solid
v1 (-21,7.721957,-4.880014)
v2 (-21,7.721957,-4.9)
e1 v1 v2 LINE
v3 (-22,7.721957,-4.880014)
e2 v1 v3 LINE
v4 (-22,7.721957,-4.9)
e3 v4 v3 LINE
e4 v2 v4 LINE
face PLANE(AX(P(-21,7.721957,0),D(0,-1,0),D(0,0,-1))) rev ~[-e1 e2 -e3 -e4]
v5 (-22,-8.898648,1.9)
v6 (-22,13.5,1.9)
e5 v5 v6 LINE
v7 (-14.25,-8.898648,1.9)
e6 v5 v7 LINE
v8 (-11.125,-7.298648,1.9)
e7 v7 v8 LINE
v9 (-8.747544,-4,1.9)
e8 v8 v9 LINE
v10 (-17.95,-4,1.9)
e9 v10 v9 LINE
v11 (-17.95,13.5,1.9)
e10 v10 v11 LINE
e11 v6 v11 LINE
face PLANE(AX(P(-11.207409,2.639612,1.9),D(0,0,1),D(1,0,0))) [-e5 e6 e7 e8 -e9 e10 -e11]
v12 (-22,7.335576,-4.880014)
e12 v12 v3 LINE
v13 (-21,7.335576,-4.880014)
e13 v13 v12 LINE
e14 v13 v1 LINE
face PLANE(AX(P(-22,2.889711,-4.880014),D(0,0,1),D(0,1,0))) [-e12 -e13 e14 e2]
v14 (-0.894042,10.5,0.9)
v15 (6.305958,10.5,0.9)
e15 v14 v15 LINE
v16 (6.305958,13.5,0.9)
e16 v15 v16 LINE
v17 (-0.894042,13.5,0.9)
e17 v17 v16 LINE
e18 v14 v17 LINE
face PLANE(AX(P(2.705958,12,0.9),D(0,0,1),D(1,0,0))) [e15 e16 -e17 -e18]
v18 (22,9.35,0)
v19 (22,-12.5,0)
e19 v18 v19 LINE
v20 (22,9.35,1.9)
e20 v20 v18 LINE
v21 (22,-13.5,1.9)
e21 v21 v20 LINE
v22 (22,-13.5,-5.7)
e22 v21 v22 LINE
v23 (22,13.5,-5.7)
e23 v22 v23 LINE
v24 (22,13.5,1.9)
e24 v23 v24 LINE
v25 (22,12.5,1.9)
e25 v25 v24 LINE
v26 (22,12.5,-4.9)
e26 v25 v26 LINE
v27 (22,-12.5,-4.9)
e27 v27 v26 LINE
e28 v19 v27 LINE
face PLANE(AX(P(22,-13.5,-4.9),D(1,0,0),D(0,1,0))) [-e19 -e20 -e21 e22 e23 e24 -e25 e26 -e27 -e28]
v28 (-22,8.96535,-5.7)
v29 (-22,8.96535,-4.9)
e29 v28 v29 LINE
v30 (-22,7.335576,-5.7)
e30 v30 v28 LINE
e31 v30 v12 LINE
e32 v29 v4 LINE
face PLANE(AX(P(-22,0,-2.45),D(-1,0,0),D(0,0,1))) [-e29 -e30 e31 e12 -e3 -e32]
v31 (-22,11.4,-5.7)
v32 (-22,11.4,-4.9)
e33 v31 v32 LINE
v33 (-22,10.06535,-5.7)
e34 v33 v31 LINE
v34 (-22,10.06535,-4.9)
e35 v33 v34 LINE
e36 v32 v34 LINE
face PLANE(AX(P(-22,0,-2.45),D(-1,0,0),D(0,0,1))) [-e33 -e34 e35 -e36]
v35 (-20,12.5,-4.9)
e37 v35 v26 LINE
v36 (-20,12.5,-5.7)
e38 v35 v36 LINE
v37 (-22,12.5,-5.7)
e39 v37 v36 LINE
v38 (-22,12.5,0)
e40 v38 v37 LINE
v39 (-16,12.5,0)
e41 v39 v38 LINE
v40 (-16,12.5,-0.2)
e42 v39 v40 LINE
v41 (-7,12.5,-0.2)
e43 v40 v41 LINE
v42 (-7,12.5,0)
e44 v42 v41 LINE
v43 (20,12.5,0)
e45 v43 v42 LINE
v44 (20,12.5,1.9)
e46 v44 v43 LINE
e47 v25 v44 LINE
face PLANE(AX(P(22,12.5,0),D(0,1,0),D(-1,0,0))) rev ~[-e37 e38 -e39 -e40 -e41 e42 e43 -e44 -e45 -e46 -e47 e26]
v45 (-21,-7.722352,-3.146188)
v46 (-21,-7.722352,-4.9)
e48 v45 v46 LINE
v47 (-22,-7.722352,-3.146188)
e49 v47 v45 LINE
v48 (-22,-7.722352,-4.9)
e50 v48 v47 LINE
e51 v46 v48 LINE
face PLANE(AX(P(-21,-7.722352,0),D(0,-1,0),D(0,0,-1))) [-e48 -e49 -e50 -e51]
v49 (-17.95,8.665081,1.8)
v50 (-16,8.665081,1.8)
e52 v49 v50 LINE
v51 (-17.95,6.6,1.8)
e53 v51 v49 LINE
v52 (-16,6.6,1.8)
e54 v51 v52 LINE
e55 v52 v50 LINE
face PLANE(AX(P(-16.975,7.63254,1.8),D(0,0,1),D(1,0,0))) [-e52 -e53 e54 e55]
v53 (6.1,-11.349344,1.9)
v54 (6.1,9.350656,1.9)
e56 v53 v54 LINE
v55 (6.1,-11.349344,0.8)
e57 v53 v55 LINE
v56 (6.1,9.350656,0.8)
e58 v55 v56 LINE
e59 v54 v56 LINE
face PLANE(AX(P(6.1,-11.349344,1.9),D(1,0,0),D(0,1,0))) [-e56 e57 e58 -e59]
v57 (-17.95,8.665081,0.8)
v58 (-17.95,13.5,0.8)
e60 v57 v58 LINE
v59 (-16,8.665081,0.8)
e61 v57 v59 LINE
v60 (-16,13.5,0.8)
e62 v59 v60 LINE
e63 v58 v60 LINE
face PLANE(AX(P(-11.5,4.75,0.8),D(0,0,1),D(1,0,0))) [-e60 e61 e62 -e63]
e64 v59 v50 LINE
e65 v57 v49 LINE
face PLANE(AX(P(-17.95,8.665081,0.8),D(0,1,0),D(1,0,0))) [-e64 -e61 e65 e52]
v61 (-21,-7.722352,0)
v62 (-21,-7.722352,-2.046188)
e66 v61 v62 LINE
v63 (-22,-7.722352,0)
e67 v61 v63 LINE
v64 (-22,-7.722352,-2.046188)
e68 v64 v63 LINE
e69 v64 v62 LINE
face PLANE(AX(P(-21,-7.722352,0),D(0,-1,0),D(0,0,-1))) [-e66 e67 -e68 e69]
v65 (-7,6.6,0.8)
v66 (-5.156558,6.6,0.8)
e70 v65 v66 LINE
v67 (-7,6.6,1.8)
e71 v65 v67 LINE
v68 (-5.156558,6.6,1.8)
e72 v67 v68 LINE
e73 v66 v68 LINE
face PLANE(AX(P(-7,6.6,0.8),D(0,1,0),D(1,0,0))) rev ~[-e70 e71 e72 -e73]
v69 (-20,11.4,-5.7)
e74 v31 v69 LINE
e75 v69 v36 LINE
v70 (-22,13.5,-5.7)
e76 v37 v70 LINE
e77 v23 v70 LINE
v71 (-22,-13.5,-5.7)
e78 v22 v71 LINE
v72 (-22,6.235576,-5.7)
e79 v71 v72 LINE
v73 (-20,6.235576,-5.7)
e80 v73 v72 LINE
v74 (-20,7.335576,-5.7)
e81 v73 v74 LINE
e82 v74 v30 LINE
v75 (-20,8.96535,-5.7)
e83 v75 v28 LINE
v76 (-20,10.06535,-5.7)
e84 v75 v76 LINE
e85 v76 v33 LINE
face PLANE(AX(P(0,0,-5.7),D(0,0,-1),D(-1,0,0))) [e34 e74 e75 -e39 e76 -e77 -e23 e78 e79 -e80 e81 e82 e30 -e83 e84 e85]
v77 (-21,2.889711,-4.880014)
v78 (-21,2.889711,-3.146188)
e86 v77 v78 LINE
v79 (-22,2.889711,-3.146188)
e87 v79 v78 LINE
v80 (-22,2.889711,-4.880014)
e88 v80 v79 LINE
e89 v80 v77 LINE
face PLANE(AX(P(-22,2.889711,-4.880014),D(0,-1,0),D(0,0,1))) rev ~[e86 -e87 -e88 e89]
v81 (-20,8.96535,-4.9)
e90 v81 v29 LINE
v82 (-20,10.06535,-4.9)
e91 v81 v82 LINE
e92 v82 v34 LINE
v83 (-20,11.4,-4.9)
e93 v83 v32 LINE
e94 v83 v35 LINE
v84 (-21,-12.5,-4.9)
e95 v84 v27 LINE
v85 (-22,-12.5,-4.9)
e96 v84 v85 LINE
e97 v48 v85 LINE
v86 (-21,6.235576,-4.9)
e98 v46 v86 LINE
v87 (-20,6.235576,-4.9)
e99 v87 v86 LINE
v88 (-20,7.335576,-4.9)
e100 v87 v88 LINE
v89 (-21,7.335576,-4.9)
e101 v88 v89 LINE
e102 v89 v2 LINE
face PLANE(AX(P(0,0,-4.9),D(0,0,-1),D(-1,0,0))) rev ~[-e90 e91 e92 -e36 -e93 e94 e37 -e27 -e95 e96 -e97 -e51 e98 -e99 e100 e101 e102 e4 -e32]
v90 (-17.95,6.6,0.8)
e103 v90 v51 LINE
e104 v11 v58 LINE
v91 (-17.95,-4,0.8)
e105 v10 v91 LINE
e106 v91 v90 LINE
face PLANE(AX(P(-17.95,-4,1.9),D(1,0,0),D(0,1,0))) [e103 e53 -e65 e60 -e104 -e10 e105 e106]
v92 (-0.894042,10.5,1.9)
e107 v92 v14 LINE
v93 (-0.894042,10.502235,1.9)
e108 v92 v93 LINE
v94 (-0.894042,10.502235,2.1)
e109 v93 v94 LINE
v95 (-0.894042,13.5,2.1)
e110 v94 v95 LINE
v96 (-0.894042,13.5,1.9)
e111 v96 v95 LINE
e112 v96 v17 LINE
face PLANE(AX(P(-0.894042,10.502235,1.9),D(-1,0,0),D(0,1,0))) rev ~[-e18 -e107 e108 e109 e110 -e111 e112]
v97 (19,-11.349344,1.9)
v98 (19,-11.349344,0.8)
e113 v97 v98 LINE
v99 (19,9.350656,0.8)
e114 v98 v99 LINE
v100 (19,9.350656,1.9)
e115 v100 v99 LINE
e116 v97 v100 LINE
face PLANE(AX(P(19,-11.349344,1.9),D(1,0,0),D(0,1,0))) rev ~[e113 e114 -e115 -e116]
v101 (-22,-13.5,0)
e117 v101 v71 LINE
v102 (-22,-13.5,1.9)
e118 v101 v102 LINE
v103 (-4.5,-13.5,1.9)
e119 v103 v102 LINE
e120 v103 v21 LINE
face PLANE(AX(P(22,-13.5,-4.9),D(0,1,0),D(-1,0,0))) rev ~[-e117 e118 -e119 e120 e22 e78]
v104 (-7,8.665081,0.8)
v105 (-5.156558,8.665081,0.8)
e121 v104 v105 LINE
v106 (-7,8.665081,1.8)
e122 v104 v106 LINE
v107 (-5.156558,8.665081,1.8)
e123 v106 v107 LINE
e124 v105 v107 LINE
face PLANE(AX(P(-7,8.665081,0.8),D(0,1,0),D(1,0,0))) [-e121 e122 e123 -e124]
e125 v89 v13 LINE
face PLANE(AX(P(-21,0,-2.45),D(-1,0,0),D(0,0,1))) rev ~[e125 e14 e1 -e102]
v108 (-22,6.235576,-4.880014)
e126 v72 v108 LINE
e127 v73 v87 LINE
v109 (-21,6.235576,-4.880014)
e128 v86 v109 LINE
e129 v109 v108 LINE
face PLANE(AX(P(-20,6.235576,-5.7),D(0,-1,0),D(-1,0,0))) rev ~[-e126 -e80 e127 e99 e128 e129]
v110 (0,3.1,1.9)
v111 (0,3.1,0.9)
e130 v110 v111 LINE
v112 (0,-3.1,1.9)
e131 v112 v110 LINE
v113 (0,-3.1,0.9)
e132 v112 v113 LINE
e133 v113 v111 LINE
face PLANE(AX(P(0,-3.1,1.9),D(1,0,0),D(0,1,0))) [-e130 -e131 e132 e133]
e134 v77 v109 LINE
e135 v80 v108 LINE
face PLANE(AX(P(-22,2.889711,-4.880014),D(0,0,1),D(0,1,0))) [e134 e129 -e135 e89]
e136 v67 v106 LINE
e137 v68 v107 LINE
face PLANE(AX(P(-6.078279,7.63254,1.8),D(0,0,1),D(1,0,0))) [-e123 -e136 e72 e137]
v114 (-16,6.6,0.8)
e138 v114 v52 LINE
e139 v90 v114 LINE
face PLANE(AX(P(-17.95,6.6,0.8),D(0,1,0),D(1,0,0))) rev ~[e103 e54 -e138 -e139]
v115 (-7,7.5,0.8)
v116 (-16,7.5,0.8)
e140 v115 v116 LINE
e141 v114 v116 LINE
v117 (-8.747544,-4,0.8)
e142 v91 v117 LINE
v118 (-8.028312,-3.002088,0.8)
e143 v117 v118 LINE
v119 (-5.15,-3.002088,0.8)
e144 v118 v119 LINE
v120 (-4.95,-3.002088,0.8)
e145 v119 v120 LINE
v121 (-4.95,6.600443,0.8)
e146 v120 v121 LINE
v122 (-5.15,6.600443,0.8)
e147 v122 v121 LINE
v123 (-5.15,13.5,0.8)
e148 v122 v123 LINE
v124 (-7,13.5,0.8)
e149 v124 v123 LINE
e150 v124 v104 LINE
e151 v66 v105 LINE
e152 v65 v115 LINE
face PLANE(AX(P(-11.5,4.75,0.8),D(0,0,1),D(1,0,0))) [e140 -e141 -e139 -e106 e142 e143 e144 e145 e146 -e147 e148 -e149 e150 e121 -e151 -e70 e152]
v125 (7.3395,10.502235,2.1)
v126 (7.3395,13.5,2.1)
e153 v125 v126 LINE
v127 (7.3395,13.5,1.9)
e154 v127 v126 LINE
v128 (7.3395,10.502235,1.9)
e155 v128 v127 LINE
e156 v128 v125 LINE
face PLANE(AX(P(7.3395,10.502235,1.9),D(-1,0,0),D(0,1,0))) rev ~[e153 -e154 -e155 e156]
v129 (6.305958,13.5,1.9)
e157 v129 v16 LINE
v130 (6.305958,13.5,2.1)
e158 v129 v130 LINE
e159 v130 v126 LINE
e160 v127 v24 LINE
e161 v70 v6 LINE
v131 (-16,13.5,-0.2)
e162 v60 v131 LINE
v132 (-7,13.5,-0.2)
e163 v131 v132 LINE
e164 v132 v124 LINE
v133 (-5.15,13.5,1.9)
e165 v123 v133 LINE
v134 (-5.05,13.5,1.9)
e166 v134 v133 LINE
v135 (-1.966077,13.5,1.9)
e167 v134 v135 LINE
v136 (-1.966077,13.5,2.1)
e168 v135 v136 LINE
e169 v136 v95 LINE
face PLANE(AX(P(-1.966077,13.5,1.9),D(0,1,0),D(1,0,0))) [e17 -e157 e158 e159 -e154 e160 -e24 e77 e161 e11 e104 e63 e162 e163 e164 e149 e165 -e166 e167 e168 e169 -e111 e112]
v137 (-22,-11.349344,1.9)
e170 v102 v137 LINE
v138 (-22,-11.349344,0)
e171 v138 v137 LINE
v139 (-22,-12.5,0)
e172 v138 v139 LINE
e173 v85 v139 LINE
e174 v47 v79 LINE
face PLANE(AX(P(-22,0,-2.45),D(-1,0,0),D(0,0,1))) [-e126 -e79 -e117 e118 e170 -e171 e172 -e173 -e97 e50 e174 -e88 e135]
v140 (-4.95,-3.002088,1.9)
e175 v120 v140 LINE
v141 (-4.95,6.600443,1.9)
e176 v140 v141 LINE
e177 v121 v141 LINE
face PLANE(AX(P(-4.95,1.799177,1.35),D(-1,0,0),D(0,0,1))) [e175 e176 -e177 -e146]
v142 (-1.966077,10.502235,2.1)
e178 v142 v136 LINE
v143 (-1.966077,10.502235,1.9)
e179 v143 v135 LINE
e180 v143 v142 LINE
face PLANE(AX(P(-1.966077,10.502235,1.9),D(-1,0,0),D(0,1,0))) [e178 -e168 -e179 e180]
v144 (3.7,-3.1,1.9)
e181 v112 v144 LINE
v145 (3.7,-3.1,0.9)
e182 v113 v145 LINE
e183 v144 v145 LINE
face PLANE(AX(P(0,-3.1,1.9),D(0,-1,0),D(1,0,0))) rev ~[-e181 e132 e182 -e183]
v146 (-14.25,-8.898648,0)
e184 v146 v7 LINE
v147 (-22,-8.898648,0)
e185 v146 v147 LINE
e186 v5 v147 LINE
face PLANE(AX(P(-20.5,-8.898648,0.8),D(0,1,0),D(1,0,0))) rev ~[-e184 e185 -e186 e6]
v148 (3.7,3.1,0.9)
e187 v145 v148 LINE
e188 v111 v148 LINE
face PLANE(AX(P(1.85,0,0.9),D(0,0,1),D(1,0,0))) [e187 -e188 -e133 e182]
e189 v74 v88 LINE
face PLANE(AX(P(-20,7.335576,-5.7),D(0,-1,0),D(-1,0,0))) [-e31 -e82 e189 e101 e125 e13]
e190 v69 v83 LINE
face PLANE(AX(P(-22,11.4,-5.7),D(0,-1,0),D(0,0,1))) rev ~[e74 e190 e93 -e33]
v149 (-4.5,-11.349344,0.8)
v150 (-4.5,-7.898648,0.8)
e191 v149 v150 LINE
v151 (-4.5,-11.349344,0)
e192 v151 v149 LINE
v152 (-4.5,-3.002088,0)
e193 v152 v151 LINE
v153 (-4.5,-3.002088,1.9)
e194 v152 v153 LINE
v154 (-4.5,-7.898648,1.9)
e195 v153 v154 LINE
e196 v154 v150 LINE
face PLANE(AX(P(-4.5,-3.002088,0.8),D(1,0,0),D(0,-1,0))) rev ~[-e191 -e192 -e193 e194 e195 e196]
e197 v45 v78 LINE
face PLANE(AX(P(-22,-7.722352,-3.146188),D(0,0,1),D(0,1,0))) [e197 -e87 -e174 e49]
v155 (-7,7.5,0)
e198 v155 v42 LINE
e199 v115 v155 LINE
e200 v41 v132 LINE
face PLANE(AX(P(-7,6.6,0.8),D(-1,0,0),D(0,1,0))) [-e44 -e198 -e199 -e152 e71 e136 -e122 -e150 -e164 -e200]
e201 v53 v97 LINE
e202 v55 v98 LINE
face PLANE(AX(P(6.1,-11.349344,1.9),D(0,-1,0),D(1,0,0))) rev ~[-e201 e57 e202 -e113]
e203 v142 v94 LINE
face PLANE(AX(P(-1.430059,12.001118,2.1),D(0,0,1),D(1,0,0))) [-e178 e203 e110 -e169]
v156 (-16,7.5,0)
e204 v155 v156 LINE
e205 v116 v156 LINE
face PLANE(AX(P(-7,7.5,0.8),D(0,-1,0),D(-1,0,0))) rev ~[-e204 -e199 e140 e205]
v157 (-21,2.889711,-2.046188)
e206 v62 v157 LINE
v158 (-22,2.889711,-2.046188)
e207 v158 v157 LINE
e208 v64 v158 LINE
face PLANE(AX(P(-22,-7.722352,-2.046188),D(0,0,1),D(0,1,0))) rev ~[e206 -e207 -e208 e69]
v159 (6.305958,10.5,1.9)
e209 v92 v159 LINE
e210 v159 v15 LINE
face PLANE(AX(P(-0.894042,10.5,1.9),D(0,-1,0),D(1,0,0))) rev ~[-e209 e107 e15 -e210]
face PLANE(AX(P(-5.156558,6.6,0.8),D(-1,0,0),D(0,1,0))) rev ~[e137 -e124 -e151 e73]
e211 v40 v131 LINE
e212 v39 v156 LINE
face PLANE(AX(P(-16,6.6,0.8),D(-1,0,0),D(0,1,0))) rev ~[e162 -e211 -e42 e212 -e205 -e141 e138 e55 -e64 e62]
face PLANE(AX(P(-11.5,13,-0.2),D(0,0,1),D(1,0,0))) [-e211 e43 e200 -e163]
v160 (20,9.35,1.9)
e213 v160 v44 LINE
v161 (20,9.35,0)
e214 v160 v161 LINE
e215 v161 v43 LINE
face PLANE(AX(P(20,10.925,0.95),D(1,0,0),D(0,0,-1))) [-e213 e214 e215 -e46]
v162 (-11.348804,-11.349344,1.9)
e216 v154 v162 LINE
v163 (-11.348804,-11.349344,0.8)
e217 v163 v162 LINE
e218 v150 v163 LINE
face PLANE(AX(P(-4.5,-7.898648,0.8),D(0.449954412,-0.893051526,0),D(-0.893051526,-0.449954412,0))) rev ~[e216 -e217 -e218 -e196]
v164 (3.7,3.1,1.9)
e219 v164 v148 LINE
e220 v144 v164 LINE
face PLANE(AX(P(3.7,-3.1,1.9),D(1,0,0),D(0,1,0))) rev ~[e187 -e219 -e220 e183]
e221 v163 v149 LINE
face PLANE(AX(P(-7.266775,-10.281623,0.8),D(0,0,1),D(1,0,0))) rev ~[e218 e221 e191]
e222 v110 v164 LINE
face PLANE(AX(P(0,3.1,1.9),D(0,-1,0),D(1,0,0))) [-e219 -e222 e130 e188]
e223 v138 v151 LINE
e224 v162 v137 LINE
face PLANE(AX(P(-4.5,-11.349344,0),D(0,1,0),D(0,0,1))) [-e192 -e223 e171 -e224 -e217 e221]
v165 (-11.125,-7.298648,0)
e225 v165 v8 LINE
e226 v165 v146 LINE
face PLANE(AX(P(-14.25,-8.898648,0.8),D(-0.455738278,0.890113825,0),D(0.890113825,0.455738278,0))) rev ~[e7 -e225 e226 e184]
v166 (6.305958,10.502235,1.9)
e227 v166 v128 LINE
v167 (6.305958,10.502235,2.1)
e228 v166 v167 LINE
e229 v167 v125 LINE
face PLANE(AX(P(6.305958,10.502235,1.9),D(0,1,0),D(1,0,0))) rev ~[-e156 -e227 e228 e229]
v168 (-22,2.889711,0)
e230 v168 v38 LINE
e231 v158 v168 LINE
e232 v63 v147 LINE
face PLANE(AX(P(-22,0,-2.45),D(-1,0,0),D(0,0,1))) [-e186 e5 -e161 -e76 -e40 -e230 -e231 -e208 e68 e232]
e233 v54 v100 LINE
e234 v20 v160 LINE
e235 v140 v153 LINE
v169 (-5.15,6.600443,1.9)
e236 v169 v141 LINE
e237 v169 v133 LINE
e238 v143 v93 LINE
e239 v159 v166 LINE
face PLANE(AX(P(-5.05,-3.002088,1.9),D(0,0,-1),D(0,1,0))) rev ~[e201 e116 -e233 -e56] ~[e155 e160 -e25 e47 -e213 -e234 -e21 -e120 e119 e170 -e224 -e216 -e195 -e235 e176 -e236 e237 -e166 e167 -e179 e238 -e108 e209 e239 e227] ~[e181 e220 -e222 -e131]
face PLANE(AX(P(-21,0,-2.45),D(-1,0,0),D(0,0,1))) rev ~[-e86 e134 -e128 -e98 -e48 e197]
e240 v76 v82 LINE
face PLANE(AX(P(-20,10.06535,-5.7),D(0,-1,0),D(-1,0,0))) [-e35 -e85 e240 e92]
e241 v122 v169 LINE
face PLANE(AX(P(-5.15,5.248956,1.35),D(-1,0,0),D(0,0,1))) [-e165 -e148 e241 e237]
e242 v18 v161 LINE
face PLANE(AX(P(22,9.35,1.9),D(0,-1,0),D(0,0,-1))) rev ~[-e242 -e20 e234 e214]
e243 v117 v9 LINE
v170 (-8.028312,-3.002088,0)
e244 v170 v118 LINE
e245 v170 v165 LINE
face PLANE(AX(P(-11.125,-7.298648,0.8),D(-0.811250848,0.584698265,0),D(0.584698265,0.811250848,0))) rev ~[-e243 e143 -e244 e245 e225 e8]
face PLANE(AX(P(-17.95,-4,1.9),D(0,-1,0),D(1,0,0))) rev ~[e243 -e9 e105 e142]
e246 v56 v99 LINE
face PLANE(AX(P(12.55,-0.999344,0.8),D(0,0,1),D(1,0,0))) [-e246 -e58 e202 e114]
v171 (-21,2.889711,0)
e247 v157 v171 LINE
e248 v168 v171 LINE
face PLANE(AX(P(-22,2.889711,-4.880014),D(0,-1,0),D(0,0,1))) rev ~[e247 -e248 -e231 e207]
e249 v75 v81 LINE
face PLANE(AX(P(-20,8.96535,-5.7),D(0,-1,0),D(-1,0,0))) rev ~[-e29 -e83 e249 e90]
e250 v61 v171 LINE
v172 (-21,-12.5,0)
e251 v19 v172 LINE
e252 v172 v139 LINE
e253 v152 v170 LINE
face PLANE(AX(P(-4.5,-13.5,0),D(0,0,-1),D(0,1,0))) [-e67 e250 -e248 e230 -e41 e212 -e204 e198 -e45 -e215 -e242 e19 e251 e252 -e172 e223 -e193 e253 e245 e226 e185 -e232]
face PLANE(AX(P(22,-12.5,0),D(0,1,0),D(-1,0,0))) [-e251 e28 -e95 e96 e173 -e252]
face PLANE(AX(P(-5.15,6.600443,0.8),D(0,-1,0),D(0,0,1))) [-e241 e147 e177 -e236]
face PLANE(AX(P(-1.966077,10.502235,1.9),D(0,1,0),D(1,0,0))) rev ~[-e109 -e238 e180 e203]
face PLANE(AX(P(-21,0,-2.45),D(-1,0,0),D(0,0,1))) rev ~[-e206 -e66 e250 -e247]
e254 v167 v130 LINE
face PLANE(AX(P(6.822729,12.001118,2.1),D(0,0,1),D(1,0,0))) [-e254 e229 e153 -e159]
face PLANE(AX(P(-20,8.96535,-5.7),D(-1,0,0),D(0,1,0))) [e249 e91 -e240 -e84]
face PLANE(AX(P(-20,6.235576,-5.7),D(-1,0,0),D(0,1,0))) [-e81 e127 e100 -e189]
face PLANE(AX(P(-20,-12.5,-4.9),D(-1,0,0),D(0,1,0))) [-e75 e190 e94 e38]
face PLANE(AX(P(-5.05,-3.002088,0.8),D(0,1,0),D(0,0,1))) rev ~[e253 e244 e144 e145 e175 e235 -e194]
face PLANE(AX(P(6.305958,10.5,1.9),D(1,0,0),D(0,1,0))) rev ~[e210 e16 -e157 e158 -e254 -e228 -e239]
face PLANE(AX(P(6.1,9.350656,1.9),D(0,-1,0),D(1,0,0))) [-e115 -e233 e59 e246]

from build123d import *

# Parameters (mm, degrees)
ESQUISSE1_W              = 44
ESQUISSE1_H              = 25
BOSS_EXTRU_1_DEPTH       = 1.9
ESQUISSE2_W              = 18
ESQUISSE2_H              = 21.4
ESQUISSE2_W_2            = 12.9
ESQUISSE2_H_2            = 20.7
ENL_V_MAT_EXTRU_1_DEPTH  = 1.1
ESQUISSE3_W              = 9
ESQUISSE3_H              = 12
ENL_V_MAT_EXTRU_2_DEPTH  = 10
ESQUISSE4_W              = 3.5
ESQUISSE4_H              = 6.801352385
ENL_V_MAT_EXTRU_3_DEPTH  = 1.4
ENL_V_MAT_EXTRU_4_DEPTH  = 2.4
ESQUISSE6_W              = 9
ESQUISSE6_H              = 0.8
BOSS_EXTRU_2_DEPTH       = 1
ESQUISSE7_W              = 2
ESQUISSE7_H              = 1.1
BOSS_EXTRU_3_DEPTH       = 1
BOSS_EXTRU_4_DEPTH       = 1
ESQUISSE12_W             = 26.5
ESQUISSE12_H             = 1.9
BOSS_EXTRU_6_DEPTH       = 1
ESQUISSE13_W             = 44
ESQUISSE13_H             = 1
BOSS_EXTRU_7_DEPTH       = 4.9
ESQUISSE14_W             = 44
ESQUISSE14_H             = 27
BOSS_EXTRU_8_DEPTH       = 0.8
ESQUISSE15_W             = 9
ESQUISSE15_H             = 1
ENL_V_MAT_EXTRU_5_DEPTH  = 0.2
ESQUISSE16_W             = 0.8
ESQUISSE16_H             = 1.1
ENL_V_MAT_EXTRU_7_DEPTH  = 2
ESQUISSE18_W             = 1.9
ESQUISSE18_H             = 3.15
ENL_V_MAT_EXTRU_8_DEPTH  = 2
ESQUISSE19_W             = 1
ESQUISSE19_H             = 25
BOSS_EXTRU_10_DEPTH      = 4.9
ENL_V_MAT_EXTRU_9_DEPTH  = 1
ESQUISSE21_W             = 1.9
ESQUISSE21_H             = 2.150656269
BOSS_EXTRU_11_DEPTH      = 17.5
BOSS_EXTRU_12_DEPTH      = 1.1
BOSS_EXTRU_13_DEPTH      = 1.1
ESQUISSE26_W             = 12.9
ESQUISSE26_H             = 17.5
ENL_V_MAT_EXTRU_10_DEPTH = 1.1
ESQUISSE28_W             = 4.9
ESQUISSE28_H             = 25
ENL_V_MAT_EXTRU_12_DEPTH = 10
ESQUISSE30_W             = 4.9
ESQUISSE30_H             = 25
BOSS_EXTRU_14_DEPTH      = 1
ESQUISSE31_W             = 4.9
ESQUISSE31_H             = 4.778042902
ESQUISSE31_H_2           = 4.777647835
ENL_V_MAT_EXTRU_13_DEPTH = 11
ESQUISSE32_W             = 2
ESQUISSE32_H             = 1.1
ENL_V_MAT_EXTRU_14_DEPTH = 5
ESQUISSE33_W             = 4.880014168
ESQUISSE33_H             = 9.610289291
ENL_V_MAT_EXTRU_15_DEPTH = 5
ESQUISSE34_W             = 1.1
ESQUISSE34_H             = 10.612062874
ENL_V_MAT_EXTRU_16_DEPTH = 5
ESQUISSE35_W             = 1.1
ESQUISSE35_H             = 16.502088347
BOSS_EXTRU_15_DEPTH      = 0.1
ESQUISSE36_W             = 1.95
ESQUISSE36_H             = 2.065080621
ESQUISSE36_W_2           = 1.843442291
BOSS_EXTRU_16_DEPTH      = 1
ESQUISSE40_W             = 3.7
ESQUISSE40_H             = 6.2
ENL_V_MAT_EXTRU_18_DEPTH = 1
ESQUISSE39_W             = 7.2
ESQUISSE39_H             = 3
ENL_V_MAT_EXTRU_20_DEPTH = 1
ESQUISSE41_W             = 1.072034993
ESQUISSE41_H             = 2.997764605
ESQUISSE41_W_2           = 1.033542433
BOSS_EXTRU_17_DEPTH      = 0.2
ESQUISSE42_W             = 1.1
ESQUISSE42_H             = 9.602531403
ENL_V_MAT_EXTRU_21_DEPTH = 0.2


with BuildPart() as part:
    # Esquisse1 → Boss.-Extru.1 (new body)
    with BuildSketch(Plane.XY):
        Rectangle(ESQUISSE1_W, ESQUISSE1_H)
    extrude(amount=BOSS_EXTRU_1_DEPTH)

    # Esquisse2 → Enlèv. mat.-Extru.1 (cut)
    with BuildSketch(Plane.XY.offset(1.9)):
        with Locations((-11.5, 1.801352385)):
            Rectangle(ESQUISSE2_W, ESQUISSE2_H)
        with Locations((12.55, -0.999343731)):
            Rectangle(ESQUISSE2_W_2, ESQUISSE2_H_2)
    extrude(amount=-ENL_V_MAT_EXTRU_1_DEPTH, mode=Mode.SUBTRACT)

    # Esquisse3 → Enlèv. mat.-Extru.2 (cut)
    with BuildSketch(Plane.XY.offset(0.8)):
        with Locations((-11.5, 12.5)):
            Rectangle(ESQUISSE3_W, ESQUISSE3_H)
    extrude(amount=-ENL_V_MAT_EXTRU_2_DEPTH, mode=Mode.SUBTRACT)

    # Esquisse4 → Enlèv. mat.-Extru.3 (cut)
    with BuildSketch(Plane.XY.offset(1.9)):
        with Locations((-6.25, -9.099323807)):
            Rectangle(ESQUISSE4_W, ESQUISSE4_H)
    extrude(amount=-ENL_V_MAT_EXTRU_3_DEPTH, mode=Mode.SUBTRACT)

    # Esquisse5 → Enlèv. mat.-Extru.4 (cut)
    with BuildSketch(Plane.XY.offset(1.9)):
        Polygon((-8, -5.698647615), (-14.25, -8.898647615), (-22, -8.898647615), (-22, -12.5), (-4.5, -12.5), (-4.5, -5.698647615), align=None)
    extrude(amount=-ENL_V_MAT_EXTRU_4_DEPTH, mode=Mode.SUBTRACT)

    # Esquisse6 → Boss.-Extru.2 (add)
    with BuildSketch(Plane(origin=(0, 6.5, 0), x_dir=(1, 0, 0), z_dir=(0, 1, 0))):
        with Locations((-11.5, -0.4)):
            Rectangle(ESQUISSE6_W, ESQUISSE6_H)
    extrude(amount=BOSS_EXTRU_2_DEPTH)

    # Esquisse7 → Boss.-Extru.3 (add)
    with BuildSketch(Plane(origin=(0, -8.898647615, 0), x_dir=(1, 0, 0), z_dir=(0, 1, 0))):
        with Locations((-3.5, -1.35)):
            Rectangle(ESQUISSE7_W, ESQUISSE7_H)
    extrude(amount=BOSS_EXTRU_3_DEPTH)

    # Esquisse9 → Boss.-Extru.4 (add)
    with BuildSketch(Plane(origin=(0, 12.5, 0), x_dir=(1, 0, 0), z_dir=(0, 1, 0))):
        Polygon((22, 0), (-2.5, 0), (-7, 0), (-7, -0.8), (-2.5, -0.8), (-2.5, -1.9), (22, -1.9), align=None)
        Polygon((-22, 0), (-20.5, 0), (-16, 0), (-16, -0.8), (-20.5, -0.8), (-20.5, -1.9), (-22, -1.9), align=None)
    extrude(amount=BOSS_EXTRU_4_DEPTH)

    # Esquisse12 → Boss.-Extru.6 (add)
    with BuildSketch(Plane.XZ.offset(12.5)):
        with Locations((8.75, 0.95)):
            Rectangle(ESQUISSE12_W, ESQUISSE12_H)
    extrude(amount=BOSS_EXTRU_6_DEPTH)

    # Esquisse13 → Boss.-Extru.7 (add)
    with BuildSketch(Plane(origin=(0, 0, 0), x_dir=(-1, 0, 0), z_dir=(0, 0, -1))):
        with Locations((0, 13)):
            Rectangle(ESQUISSE13_W, ESQUISSE13_H)
        with Locations((0, -13)):
            Rectangle(ESQUISSE13_W, ESQUISSE13_H)
    extrude(amount=BOSS_EXTRU_7_DEPTH)

    # Esquisse14 → Boss.-Extru.8 (add)
    with BuildSketch(Plane(origin=(0, 0, -4.9), x_dir=(-1, 0, 0), z_dir=(0, 0, -1))):
        Rectangle(ESQUISSE14_W, ESQUISSE14_H)
    extrude(amount=BOSS_EXTRU_8_DEPTH)

    # Esquisse15 → Enlèv. mat.-Extru.5 (cut)
    with BuildSketch(Plane.XY):
        with Locations((-11.5, 13)):
            Rectangle(ESQUISSE15_W, ESQUISSE15_H)
    extrude(amount=-ENL_V_MAT_EXTRU_5_DEPTH, mode=Mode.SUBTRACT)

    # Esquisse16 → Enlèv. mat.-Extru.7 (cut)
    with BuildSketch(Plane.ZY.offset(22)):
        with Locations((-5.3, 11.95)):
            Rectangle(ESQUISSE16_W, ESQUISSE16_H)
    extrude(amount=-ENL_V_MAT_EXTRU_7_DEPTH, mode=Mode.SUBTRACT)

    # Esquisse18 → Enlèv. mat.-Extru.8 (cut)
    with BuildSketch(Plane(origin=(22, 0, 0), x_dir=(0, 0, -1), z_dir=(1, 0, 0))):
        with Locations((-0.95, 10.925)):
            Rectangle(ESQUISSE18_W, ESQUISSE18_H)
    extrude(amount=-ENL_V_MAT_EXTRU_8_DEPTH, mode=Mode.SUBTRACT)

    # Esquisse19 → Boss.-Extru.10 (add)
    with BuildSketch(Plane.XY.offset(-4.9)):
        with Locations((-19.5, 0)):
            Rectangle(ESQUISSE19_W, ESQUISSE19_H)
    extrude(amount=BOSS_EXTRU_10_DEPTH)

    # Esquisse20 → Enlèv. mat.-Extru.9 (cut)
    with BuildSketch(Plane.XY.offset(0.8)):
        Polygon((-4.5, -5.776745759), (-4.5, -3.002088347), (-8.02831202, -3.002088347), (-11.125, -7.298647615), align=None)
    extrude(amount=-ENL_V_MAT_EXTRU_9_DEPTH, mode=Mode.SUBTRACT)

    # Esquisse21 → Boss.-Extru.11 (add)
    with BuildSketch(Plane.ZY.offset(4.5)):
        with Locations((0.95, -12.424671866)):
            Rectangle(ESQUISSE21_W, ESQUISSE21_H)
    extrude(amount=BOSS_EXTRU_11_DEPTH)

    # Esquisse23 → Boss.-Extru.12 (add)
    with BuildSketch(Plane.XY.offset(0.8)):
        Polygon((-4.5, -7.898647615), (-11.348803677, -11.349343731), (-4.5, -11.349343731), align=None)
    extrude(amount=BOSS_EXTRU_12_DEPTH)

    # Esquisse25 → Boss.-Extru.13 (add)
    with BuildSketch(Plane.XY.offset(0.8)):
        Polygon((-16, 13.5), (-20.5, 13.5), (-20.5, -8.898647615), (-14.25, -8.898647615), (-11.125, -7.298647615), (-8.02831202, -3.002088347), (-4.5, -3.002088347), (-4.5, -7.898647615), (-2.5, -7.898647615), (-2.5, 13.5), (-7, 13.5), (-7, 7.5), (-16, 7.5), align=None)
    extrude(amount=BOSS_EXTRU_13_DEPTH)

    # Esquisse26 → Enlèv. mat.-Extru.10 (cut)
    with BuildSketch(Plane.XY.offset(1.9)):
        with Locations((-11.5, 4.75)):
            Rectangle(ESQUISSE26_W, ESQUISSE26_H)
    extrude(amount=-ENL_V_MAT_EXTRU_10_DEPTH, mode=Mode.SUBTRACT)

    # Esquisse28 → Enlèv. mat.-Extru.12 (cut)
    with BuildSketch(Plane.ZY.offset(20)):
        with Locations((-2.45, 0)):
            Rectangle(ESQUISSE28_W, ESQUISSE28_H)
    extrude(amount=-ENL_V_MAT_EXTRU_12_DEPTH, mode=Mode.SUBTRACT)

    # Esquisse30 → Boss.-Extru.14 (add)
    with BuildSketch(Plane.ZY.offset(22)):
        with Locations((-2.45, 0)):
            Rectangle(ESQUISSE30_W, ESQUISSE30_H)
    extrude(amount=-BOSS_EXTRU_14_DEPTH)

    # Esquisse31 → Enlèv. mat.-Extru.13 (cut)
    with BuildSketch(Plane(origin=(-21, 0, 0), x_dir=(0, 0, -1), z_dir=(1, 0, 0))):
        with Locations((2.45, 10.110978549)):
            Rectangle(ESQUISSE31_W, ESQUISSE31_H)
        with Locations((2.45, -10.111176083)):
            Rectangle(ESQUISSE31_W, ESQUISSE31_H_2)
    extrude(amount=-ENL_V_MAT_EXTRU_13_DEPTH, mode=Mode.SUBTRACT)

    # Esquisse32 → Enlèv. mat.-Extru.14 (cut)
    with BuildSketch(Plane(origin=(0, 0, -5.7), x_dir=(-1, 0, 0), z_dir=(0, 0, -1))):
        with Locations((21, 9.515350227)):
            Rectangle(ESQUISSE32_W, ESQUISSE32_H)
        with Locations((21, 6.785575873)):
            Rectangle(ESQUISSE32_W, ESQUISSE32_H)
    extrude(amount=-ENL_V_MAT_EXTRU_14_DEPTH, mode=Mode.SUBTRACT)

    # Esquisse33 → Enlèv. mat.-Extru.15 (cut)
    with BuildSketch(Plane.ZY.offset(22)):
        with Locations((-2.440007084, 7.694855354)):
            Rectangle(ESQUISSE33_W, ESQUISSE33_H)
    extrude(amount=-ENL_V_MAT_EXTRU_15_DEPTH, mode=Mode.SUBTRACT)

    # Esquisse34 → Enlèv. mat.-Extru.16 (cut)
    with BuildSketch(Plane.ZY.offset(22)):
        with Locations((-2.596187743, -2.416320728)):
            Rectangle(ESQUISSE34_W, ESQUISSE34_H)
    extrude(amount=-ENL_V_MAT_EXTRU_16_DEPTH, mode=Mode.SUBTRACT)

    # Esquisse35 → Boss.-Extru.15 (add)
    with BuildSketch(Plane.ZY.offset(5.05)):
        with Locations((1.35, 5.248955826)):
            Rectangle(ESQUISSE35_W, ESQUISSE35_H)
    extrude(amount=BOSS_EXTRU_15_DEPTH)

    # Esquisse36 → Boss.-Extru.16 (add)
    with BuildSketch(Plane.XY.offset(0.8)):
        with Locations((-16.975, 7.632540311)):
            Rectangle(ESQUISSE36_W, ESQUISSE36_H)
        with Locations((-6.078278855, 7.632540311)):
            Rectangle(ESQUISSE36_W_2, ESQUISSE36_H)
    extrude(amount=BOSS_EXTRU_16_DEPTH)

    # Esquisse40 → Enlèv. mat.-Extru.18 (cut)
    with BuildSketch(Plane.XY.offset(1.9)):
        with Locations((1.85, 0)):
            Rectangle(ESQUISSE40_W, ESQUISSE40_H)
    extrude(amount=-ENL_V_MAT_EXTRU_18_DEPTH, mode=Mode.SUBTRACT)

    # Esquisse39 → Enlèv. mat.-Extru.20 (cut)
    with BuildSketch(Plane.XY.offset(1.9)):
        with Locations((2.705958025, 12)):
            Rectangle(ESQUISSE39_W, ESQUISSE39_H)
    extrude(amount=-ENL_V_MAT_EXTRU_20_DEPTH, mode=Mode.SUBTRACT)

    # Esquisse41 → Boss.-Extru.17 (add)
    with BuildSketch(Plane.XY.offset(1.9)):
        with Locations((-1.430059472, 12.001117697)):
            Rectangle(ESQUISSE41_W, ESQUISSE41_H)
        with Locations((6.822729242, 12.001117697)):
            Rectangle(ESQUISSE41_W_2, ESQUISSE41_H)
    extrude(amount=BOSS_EXTRU_17_DEPTH)

    # Esquisse42 → Enlèv. mat.-Extru.21 (cut)
    with BuildSketch(Plane.ZY.offset(5.15)):
        with Locations((1.35, 1.799177355)):
            Rectangle(ESQUISSE42_W, ESQUISSE42_H)
    extrude(amount=-ENL_V_MAT_EXTRU_21_DEPTH, mode=Mode.SUBTRACT)


solid = part.part
